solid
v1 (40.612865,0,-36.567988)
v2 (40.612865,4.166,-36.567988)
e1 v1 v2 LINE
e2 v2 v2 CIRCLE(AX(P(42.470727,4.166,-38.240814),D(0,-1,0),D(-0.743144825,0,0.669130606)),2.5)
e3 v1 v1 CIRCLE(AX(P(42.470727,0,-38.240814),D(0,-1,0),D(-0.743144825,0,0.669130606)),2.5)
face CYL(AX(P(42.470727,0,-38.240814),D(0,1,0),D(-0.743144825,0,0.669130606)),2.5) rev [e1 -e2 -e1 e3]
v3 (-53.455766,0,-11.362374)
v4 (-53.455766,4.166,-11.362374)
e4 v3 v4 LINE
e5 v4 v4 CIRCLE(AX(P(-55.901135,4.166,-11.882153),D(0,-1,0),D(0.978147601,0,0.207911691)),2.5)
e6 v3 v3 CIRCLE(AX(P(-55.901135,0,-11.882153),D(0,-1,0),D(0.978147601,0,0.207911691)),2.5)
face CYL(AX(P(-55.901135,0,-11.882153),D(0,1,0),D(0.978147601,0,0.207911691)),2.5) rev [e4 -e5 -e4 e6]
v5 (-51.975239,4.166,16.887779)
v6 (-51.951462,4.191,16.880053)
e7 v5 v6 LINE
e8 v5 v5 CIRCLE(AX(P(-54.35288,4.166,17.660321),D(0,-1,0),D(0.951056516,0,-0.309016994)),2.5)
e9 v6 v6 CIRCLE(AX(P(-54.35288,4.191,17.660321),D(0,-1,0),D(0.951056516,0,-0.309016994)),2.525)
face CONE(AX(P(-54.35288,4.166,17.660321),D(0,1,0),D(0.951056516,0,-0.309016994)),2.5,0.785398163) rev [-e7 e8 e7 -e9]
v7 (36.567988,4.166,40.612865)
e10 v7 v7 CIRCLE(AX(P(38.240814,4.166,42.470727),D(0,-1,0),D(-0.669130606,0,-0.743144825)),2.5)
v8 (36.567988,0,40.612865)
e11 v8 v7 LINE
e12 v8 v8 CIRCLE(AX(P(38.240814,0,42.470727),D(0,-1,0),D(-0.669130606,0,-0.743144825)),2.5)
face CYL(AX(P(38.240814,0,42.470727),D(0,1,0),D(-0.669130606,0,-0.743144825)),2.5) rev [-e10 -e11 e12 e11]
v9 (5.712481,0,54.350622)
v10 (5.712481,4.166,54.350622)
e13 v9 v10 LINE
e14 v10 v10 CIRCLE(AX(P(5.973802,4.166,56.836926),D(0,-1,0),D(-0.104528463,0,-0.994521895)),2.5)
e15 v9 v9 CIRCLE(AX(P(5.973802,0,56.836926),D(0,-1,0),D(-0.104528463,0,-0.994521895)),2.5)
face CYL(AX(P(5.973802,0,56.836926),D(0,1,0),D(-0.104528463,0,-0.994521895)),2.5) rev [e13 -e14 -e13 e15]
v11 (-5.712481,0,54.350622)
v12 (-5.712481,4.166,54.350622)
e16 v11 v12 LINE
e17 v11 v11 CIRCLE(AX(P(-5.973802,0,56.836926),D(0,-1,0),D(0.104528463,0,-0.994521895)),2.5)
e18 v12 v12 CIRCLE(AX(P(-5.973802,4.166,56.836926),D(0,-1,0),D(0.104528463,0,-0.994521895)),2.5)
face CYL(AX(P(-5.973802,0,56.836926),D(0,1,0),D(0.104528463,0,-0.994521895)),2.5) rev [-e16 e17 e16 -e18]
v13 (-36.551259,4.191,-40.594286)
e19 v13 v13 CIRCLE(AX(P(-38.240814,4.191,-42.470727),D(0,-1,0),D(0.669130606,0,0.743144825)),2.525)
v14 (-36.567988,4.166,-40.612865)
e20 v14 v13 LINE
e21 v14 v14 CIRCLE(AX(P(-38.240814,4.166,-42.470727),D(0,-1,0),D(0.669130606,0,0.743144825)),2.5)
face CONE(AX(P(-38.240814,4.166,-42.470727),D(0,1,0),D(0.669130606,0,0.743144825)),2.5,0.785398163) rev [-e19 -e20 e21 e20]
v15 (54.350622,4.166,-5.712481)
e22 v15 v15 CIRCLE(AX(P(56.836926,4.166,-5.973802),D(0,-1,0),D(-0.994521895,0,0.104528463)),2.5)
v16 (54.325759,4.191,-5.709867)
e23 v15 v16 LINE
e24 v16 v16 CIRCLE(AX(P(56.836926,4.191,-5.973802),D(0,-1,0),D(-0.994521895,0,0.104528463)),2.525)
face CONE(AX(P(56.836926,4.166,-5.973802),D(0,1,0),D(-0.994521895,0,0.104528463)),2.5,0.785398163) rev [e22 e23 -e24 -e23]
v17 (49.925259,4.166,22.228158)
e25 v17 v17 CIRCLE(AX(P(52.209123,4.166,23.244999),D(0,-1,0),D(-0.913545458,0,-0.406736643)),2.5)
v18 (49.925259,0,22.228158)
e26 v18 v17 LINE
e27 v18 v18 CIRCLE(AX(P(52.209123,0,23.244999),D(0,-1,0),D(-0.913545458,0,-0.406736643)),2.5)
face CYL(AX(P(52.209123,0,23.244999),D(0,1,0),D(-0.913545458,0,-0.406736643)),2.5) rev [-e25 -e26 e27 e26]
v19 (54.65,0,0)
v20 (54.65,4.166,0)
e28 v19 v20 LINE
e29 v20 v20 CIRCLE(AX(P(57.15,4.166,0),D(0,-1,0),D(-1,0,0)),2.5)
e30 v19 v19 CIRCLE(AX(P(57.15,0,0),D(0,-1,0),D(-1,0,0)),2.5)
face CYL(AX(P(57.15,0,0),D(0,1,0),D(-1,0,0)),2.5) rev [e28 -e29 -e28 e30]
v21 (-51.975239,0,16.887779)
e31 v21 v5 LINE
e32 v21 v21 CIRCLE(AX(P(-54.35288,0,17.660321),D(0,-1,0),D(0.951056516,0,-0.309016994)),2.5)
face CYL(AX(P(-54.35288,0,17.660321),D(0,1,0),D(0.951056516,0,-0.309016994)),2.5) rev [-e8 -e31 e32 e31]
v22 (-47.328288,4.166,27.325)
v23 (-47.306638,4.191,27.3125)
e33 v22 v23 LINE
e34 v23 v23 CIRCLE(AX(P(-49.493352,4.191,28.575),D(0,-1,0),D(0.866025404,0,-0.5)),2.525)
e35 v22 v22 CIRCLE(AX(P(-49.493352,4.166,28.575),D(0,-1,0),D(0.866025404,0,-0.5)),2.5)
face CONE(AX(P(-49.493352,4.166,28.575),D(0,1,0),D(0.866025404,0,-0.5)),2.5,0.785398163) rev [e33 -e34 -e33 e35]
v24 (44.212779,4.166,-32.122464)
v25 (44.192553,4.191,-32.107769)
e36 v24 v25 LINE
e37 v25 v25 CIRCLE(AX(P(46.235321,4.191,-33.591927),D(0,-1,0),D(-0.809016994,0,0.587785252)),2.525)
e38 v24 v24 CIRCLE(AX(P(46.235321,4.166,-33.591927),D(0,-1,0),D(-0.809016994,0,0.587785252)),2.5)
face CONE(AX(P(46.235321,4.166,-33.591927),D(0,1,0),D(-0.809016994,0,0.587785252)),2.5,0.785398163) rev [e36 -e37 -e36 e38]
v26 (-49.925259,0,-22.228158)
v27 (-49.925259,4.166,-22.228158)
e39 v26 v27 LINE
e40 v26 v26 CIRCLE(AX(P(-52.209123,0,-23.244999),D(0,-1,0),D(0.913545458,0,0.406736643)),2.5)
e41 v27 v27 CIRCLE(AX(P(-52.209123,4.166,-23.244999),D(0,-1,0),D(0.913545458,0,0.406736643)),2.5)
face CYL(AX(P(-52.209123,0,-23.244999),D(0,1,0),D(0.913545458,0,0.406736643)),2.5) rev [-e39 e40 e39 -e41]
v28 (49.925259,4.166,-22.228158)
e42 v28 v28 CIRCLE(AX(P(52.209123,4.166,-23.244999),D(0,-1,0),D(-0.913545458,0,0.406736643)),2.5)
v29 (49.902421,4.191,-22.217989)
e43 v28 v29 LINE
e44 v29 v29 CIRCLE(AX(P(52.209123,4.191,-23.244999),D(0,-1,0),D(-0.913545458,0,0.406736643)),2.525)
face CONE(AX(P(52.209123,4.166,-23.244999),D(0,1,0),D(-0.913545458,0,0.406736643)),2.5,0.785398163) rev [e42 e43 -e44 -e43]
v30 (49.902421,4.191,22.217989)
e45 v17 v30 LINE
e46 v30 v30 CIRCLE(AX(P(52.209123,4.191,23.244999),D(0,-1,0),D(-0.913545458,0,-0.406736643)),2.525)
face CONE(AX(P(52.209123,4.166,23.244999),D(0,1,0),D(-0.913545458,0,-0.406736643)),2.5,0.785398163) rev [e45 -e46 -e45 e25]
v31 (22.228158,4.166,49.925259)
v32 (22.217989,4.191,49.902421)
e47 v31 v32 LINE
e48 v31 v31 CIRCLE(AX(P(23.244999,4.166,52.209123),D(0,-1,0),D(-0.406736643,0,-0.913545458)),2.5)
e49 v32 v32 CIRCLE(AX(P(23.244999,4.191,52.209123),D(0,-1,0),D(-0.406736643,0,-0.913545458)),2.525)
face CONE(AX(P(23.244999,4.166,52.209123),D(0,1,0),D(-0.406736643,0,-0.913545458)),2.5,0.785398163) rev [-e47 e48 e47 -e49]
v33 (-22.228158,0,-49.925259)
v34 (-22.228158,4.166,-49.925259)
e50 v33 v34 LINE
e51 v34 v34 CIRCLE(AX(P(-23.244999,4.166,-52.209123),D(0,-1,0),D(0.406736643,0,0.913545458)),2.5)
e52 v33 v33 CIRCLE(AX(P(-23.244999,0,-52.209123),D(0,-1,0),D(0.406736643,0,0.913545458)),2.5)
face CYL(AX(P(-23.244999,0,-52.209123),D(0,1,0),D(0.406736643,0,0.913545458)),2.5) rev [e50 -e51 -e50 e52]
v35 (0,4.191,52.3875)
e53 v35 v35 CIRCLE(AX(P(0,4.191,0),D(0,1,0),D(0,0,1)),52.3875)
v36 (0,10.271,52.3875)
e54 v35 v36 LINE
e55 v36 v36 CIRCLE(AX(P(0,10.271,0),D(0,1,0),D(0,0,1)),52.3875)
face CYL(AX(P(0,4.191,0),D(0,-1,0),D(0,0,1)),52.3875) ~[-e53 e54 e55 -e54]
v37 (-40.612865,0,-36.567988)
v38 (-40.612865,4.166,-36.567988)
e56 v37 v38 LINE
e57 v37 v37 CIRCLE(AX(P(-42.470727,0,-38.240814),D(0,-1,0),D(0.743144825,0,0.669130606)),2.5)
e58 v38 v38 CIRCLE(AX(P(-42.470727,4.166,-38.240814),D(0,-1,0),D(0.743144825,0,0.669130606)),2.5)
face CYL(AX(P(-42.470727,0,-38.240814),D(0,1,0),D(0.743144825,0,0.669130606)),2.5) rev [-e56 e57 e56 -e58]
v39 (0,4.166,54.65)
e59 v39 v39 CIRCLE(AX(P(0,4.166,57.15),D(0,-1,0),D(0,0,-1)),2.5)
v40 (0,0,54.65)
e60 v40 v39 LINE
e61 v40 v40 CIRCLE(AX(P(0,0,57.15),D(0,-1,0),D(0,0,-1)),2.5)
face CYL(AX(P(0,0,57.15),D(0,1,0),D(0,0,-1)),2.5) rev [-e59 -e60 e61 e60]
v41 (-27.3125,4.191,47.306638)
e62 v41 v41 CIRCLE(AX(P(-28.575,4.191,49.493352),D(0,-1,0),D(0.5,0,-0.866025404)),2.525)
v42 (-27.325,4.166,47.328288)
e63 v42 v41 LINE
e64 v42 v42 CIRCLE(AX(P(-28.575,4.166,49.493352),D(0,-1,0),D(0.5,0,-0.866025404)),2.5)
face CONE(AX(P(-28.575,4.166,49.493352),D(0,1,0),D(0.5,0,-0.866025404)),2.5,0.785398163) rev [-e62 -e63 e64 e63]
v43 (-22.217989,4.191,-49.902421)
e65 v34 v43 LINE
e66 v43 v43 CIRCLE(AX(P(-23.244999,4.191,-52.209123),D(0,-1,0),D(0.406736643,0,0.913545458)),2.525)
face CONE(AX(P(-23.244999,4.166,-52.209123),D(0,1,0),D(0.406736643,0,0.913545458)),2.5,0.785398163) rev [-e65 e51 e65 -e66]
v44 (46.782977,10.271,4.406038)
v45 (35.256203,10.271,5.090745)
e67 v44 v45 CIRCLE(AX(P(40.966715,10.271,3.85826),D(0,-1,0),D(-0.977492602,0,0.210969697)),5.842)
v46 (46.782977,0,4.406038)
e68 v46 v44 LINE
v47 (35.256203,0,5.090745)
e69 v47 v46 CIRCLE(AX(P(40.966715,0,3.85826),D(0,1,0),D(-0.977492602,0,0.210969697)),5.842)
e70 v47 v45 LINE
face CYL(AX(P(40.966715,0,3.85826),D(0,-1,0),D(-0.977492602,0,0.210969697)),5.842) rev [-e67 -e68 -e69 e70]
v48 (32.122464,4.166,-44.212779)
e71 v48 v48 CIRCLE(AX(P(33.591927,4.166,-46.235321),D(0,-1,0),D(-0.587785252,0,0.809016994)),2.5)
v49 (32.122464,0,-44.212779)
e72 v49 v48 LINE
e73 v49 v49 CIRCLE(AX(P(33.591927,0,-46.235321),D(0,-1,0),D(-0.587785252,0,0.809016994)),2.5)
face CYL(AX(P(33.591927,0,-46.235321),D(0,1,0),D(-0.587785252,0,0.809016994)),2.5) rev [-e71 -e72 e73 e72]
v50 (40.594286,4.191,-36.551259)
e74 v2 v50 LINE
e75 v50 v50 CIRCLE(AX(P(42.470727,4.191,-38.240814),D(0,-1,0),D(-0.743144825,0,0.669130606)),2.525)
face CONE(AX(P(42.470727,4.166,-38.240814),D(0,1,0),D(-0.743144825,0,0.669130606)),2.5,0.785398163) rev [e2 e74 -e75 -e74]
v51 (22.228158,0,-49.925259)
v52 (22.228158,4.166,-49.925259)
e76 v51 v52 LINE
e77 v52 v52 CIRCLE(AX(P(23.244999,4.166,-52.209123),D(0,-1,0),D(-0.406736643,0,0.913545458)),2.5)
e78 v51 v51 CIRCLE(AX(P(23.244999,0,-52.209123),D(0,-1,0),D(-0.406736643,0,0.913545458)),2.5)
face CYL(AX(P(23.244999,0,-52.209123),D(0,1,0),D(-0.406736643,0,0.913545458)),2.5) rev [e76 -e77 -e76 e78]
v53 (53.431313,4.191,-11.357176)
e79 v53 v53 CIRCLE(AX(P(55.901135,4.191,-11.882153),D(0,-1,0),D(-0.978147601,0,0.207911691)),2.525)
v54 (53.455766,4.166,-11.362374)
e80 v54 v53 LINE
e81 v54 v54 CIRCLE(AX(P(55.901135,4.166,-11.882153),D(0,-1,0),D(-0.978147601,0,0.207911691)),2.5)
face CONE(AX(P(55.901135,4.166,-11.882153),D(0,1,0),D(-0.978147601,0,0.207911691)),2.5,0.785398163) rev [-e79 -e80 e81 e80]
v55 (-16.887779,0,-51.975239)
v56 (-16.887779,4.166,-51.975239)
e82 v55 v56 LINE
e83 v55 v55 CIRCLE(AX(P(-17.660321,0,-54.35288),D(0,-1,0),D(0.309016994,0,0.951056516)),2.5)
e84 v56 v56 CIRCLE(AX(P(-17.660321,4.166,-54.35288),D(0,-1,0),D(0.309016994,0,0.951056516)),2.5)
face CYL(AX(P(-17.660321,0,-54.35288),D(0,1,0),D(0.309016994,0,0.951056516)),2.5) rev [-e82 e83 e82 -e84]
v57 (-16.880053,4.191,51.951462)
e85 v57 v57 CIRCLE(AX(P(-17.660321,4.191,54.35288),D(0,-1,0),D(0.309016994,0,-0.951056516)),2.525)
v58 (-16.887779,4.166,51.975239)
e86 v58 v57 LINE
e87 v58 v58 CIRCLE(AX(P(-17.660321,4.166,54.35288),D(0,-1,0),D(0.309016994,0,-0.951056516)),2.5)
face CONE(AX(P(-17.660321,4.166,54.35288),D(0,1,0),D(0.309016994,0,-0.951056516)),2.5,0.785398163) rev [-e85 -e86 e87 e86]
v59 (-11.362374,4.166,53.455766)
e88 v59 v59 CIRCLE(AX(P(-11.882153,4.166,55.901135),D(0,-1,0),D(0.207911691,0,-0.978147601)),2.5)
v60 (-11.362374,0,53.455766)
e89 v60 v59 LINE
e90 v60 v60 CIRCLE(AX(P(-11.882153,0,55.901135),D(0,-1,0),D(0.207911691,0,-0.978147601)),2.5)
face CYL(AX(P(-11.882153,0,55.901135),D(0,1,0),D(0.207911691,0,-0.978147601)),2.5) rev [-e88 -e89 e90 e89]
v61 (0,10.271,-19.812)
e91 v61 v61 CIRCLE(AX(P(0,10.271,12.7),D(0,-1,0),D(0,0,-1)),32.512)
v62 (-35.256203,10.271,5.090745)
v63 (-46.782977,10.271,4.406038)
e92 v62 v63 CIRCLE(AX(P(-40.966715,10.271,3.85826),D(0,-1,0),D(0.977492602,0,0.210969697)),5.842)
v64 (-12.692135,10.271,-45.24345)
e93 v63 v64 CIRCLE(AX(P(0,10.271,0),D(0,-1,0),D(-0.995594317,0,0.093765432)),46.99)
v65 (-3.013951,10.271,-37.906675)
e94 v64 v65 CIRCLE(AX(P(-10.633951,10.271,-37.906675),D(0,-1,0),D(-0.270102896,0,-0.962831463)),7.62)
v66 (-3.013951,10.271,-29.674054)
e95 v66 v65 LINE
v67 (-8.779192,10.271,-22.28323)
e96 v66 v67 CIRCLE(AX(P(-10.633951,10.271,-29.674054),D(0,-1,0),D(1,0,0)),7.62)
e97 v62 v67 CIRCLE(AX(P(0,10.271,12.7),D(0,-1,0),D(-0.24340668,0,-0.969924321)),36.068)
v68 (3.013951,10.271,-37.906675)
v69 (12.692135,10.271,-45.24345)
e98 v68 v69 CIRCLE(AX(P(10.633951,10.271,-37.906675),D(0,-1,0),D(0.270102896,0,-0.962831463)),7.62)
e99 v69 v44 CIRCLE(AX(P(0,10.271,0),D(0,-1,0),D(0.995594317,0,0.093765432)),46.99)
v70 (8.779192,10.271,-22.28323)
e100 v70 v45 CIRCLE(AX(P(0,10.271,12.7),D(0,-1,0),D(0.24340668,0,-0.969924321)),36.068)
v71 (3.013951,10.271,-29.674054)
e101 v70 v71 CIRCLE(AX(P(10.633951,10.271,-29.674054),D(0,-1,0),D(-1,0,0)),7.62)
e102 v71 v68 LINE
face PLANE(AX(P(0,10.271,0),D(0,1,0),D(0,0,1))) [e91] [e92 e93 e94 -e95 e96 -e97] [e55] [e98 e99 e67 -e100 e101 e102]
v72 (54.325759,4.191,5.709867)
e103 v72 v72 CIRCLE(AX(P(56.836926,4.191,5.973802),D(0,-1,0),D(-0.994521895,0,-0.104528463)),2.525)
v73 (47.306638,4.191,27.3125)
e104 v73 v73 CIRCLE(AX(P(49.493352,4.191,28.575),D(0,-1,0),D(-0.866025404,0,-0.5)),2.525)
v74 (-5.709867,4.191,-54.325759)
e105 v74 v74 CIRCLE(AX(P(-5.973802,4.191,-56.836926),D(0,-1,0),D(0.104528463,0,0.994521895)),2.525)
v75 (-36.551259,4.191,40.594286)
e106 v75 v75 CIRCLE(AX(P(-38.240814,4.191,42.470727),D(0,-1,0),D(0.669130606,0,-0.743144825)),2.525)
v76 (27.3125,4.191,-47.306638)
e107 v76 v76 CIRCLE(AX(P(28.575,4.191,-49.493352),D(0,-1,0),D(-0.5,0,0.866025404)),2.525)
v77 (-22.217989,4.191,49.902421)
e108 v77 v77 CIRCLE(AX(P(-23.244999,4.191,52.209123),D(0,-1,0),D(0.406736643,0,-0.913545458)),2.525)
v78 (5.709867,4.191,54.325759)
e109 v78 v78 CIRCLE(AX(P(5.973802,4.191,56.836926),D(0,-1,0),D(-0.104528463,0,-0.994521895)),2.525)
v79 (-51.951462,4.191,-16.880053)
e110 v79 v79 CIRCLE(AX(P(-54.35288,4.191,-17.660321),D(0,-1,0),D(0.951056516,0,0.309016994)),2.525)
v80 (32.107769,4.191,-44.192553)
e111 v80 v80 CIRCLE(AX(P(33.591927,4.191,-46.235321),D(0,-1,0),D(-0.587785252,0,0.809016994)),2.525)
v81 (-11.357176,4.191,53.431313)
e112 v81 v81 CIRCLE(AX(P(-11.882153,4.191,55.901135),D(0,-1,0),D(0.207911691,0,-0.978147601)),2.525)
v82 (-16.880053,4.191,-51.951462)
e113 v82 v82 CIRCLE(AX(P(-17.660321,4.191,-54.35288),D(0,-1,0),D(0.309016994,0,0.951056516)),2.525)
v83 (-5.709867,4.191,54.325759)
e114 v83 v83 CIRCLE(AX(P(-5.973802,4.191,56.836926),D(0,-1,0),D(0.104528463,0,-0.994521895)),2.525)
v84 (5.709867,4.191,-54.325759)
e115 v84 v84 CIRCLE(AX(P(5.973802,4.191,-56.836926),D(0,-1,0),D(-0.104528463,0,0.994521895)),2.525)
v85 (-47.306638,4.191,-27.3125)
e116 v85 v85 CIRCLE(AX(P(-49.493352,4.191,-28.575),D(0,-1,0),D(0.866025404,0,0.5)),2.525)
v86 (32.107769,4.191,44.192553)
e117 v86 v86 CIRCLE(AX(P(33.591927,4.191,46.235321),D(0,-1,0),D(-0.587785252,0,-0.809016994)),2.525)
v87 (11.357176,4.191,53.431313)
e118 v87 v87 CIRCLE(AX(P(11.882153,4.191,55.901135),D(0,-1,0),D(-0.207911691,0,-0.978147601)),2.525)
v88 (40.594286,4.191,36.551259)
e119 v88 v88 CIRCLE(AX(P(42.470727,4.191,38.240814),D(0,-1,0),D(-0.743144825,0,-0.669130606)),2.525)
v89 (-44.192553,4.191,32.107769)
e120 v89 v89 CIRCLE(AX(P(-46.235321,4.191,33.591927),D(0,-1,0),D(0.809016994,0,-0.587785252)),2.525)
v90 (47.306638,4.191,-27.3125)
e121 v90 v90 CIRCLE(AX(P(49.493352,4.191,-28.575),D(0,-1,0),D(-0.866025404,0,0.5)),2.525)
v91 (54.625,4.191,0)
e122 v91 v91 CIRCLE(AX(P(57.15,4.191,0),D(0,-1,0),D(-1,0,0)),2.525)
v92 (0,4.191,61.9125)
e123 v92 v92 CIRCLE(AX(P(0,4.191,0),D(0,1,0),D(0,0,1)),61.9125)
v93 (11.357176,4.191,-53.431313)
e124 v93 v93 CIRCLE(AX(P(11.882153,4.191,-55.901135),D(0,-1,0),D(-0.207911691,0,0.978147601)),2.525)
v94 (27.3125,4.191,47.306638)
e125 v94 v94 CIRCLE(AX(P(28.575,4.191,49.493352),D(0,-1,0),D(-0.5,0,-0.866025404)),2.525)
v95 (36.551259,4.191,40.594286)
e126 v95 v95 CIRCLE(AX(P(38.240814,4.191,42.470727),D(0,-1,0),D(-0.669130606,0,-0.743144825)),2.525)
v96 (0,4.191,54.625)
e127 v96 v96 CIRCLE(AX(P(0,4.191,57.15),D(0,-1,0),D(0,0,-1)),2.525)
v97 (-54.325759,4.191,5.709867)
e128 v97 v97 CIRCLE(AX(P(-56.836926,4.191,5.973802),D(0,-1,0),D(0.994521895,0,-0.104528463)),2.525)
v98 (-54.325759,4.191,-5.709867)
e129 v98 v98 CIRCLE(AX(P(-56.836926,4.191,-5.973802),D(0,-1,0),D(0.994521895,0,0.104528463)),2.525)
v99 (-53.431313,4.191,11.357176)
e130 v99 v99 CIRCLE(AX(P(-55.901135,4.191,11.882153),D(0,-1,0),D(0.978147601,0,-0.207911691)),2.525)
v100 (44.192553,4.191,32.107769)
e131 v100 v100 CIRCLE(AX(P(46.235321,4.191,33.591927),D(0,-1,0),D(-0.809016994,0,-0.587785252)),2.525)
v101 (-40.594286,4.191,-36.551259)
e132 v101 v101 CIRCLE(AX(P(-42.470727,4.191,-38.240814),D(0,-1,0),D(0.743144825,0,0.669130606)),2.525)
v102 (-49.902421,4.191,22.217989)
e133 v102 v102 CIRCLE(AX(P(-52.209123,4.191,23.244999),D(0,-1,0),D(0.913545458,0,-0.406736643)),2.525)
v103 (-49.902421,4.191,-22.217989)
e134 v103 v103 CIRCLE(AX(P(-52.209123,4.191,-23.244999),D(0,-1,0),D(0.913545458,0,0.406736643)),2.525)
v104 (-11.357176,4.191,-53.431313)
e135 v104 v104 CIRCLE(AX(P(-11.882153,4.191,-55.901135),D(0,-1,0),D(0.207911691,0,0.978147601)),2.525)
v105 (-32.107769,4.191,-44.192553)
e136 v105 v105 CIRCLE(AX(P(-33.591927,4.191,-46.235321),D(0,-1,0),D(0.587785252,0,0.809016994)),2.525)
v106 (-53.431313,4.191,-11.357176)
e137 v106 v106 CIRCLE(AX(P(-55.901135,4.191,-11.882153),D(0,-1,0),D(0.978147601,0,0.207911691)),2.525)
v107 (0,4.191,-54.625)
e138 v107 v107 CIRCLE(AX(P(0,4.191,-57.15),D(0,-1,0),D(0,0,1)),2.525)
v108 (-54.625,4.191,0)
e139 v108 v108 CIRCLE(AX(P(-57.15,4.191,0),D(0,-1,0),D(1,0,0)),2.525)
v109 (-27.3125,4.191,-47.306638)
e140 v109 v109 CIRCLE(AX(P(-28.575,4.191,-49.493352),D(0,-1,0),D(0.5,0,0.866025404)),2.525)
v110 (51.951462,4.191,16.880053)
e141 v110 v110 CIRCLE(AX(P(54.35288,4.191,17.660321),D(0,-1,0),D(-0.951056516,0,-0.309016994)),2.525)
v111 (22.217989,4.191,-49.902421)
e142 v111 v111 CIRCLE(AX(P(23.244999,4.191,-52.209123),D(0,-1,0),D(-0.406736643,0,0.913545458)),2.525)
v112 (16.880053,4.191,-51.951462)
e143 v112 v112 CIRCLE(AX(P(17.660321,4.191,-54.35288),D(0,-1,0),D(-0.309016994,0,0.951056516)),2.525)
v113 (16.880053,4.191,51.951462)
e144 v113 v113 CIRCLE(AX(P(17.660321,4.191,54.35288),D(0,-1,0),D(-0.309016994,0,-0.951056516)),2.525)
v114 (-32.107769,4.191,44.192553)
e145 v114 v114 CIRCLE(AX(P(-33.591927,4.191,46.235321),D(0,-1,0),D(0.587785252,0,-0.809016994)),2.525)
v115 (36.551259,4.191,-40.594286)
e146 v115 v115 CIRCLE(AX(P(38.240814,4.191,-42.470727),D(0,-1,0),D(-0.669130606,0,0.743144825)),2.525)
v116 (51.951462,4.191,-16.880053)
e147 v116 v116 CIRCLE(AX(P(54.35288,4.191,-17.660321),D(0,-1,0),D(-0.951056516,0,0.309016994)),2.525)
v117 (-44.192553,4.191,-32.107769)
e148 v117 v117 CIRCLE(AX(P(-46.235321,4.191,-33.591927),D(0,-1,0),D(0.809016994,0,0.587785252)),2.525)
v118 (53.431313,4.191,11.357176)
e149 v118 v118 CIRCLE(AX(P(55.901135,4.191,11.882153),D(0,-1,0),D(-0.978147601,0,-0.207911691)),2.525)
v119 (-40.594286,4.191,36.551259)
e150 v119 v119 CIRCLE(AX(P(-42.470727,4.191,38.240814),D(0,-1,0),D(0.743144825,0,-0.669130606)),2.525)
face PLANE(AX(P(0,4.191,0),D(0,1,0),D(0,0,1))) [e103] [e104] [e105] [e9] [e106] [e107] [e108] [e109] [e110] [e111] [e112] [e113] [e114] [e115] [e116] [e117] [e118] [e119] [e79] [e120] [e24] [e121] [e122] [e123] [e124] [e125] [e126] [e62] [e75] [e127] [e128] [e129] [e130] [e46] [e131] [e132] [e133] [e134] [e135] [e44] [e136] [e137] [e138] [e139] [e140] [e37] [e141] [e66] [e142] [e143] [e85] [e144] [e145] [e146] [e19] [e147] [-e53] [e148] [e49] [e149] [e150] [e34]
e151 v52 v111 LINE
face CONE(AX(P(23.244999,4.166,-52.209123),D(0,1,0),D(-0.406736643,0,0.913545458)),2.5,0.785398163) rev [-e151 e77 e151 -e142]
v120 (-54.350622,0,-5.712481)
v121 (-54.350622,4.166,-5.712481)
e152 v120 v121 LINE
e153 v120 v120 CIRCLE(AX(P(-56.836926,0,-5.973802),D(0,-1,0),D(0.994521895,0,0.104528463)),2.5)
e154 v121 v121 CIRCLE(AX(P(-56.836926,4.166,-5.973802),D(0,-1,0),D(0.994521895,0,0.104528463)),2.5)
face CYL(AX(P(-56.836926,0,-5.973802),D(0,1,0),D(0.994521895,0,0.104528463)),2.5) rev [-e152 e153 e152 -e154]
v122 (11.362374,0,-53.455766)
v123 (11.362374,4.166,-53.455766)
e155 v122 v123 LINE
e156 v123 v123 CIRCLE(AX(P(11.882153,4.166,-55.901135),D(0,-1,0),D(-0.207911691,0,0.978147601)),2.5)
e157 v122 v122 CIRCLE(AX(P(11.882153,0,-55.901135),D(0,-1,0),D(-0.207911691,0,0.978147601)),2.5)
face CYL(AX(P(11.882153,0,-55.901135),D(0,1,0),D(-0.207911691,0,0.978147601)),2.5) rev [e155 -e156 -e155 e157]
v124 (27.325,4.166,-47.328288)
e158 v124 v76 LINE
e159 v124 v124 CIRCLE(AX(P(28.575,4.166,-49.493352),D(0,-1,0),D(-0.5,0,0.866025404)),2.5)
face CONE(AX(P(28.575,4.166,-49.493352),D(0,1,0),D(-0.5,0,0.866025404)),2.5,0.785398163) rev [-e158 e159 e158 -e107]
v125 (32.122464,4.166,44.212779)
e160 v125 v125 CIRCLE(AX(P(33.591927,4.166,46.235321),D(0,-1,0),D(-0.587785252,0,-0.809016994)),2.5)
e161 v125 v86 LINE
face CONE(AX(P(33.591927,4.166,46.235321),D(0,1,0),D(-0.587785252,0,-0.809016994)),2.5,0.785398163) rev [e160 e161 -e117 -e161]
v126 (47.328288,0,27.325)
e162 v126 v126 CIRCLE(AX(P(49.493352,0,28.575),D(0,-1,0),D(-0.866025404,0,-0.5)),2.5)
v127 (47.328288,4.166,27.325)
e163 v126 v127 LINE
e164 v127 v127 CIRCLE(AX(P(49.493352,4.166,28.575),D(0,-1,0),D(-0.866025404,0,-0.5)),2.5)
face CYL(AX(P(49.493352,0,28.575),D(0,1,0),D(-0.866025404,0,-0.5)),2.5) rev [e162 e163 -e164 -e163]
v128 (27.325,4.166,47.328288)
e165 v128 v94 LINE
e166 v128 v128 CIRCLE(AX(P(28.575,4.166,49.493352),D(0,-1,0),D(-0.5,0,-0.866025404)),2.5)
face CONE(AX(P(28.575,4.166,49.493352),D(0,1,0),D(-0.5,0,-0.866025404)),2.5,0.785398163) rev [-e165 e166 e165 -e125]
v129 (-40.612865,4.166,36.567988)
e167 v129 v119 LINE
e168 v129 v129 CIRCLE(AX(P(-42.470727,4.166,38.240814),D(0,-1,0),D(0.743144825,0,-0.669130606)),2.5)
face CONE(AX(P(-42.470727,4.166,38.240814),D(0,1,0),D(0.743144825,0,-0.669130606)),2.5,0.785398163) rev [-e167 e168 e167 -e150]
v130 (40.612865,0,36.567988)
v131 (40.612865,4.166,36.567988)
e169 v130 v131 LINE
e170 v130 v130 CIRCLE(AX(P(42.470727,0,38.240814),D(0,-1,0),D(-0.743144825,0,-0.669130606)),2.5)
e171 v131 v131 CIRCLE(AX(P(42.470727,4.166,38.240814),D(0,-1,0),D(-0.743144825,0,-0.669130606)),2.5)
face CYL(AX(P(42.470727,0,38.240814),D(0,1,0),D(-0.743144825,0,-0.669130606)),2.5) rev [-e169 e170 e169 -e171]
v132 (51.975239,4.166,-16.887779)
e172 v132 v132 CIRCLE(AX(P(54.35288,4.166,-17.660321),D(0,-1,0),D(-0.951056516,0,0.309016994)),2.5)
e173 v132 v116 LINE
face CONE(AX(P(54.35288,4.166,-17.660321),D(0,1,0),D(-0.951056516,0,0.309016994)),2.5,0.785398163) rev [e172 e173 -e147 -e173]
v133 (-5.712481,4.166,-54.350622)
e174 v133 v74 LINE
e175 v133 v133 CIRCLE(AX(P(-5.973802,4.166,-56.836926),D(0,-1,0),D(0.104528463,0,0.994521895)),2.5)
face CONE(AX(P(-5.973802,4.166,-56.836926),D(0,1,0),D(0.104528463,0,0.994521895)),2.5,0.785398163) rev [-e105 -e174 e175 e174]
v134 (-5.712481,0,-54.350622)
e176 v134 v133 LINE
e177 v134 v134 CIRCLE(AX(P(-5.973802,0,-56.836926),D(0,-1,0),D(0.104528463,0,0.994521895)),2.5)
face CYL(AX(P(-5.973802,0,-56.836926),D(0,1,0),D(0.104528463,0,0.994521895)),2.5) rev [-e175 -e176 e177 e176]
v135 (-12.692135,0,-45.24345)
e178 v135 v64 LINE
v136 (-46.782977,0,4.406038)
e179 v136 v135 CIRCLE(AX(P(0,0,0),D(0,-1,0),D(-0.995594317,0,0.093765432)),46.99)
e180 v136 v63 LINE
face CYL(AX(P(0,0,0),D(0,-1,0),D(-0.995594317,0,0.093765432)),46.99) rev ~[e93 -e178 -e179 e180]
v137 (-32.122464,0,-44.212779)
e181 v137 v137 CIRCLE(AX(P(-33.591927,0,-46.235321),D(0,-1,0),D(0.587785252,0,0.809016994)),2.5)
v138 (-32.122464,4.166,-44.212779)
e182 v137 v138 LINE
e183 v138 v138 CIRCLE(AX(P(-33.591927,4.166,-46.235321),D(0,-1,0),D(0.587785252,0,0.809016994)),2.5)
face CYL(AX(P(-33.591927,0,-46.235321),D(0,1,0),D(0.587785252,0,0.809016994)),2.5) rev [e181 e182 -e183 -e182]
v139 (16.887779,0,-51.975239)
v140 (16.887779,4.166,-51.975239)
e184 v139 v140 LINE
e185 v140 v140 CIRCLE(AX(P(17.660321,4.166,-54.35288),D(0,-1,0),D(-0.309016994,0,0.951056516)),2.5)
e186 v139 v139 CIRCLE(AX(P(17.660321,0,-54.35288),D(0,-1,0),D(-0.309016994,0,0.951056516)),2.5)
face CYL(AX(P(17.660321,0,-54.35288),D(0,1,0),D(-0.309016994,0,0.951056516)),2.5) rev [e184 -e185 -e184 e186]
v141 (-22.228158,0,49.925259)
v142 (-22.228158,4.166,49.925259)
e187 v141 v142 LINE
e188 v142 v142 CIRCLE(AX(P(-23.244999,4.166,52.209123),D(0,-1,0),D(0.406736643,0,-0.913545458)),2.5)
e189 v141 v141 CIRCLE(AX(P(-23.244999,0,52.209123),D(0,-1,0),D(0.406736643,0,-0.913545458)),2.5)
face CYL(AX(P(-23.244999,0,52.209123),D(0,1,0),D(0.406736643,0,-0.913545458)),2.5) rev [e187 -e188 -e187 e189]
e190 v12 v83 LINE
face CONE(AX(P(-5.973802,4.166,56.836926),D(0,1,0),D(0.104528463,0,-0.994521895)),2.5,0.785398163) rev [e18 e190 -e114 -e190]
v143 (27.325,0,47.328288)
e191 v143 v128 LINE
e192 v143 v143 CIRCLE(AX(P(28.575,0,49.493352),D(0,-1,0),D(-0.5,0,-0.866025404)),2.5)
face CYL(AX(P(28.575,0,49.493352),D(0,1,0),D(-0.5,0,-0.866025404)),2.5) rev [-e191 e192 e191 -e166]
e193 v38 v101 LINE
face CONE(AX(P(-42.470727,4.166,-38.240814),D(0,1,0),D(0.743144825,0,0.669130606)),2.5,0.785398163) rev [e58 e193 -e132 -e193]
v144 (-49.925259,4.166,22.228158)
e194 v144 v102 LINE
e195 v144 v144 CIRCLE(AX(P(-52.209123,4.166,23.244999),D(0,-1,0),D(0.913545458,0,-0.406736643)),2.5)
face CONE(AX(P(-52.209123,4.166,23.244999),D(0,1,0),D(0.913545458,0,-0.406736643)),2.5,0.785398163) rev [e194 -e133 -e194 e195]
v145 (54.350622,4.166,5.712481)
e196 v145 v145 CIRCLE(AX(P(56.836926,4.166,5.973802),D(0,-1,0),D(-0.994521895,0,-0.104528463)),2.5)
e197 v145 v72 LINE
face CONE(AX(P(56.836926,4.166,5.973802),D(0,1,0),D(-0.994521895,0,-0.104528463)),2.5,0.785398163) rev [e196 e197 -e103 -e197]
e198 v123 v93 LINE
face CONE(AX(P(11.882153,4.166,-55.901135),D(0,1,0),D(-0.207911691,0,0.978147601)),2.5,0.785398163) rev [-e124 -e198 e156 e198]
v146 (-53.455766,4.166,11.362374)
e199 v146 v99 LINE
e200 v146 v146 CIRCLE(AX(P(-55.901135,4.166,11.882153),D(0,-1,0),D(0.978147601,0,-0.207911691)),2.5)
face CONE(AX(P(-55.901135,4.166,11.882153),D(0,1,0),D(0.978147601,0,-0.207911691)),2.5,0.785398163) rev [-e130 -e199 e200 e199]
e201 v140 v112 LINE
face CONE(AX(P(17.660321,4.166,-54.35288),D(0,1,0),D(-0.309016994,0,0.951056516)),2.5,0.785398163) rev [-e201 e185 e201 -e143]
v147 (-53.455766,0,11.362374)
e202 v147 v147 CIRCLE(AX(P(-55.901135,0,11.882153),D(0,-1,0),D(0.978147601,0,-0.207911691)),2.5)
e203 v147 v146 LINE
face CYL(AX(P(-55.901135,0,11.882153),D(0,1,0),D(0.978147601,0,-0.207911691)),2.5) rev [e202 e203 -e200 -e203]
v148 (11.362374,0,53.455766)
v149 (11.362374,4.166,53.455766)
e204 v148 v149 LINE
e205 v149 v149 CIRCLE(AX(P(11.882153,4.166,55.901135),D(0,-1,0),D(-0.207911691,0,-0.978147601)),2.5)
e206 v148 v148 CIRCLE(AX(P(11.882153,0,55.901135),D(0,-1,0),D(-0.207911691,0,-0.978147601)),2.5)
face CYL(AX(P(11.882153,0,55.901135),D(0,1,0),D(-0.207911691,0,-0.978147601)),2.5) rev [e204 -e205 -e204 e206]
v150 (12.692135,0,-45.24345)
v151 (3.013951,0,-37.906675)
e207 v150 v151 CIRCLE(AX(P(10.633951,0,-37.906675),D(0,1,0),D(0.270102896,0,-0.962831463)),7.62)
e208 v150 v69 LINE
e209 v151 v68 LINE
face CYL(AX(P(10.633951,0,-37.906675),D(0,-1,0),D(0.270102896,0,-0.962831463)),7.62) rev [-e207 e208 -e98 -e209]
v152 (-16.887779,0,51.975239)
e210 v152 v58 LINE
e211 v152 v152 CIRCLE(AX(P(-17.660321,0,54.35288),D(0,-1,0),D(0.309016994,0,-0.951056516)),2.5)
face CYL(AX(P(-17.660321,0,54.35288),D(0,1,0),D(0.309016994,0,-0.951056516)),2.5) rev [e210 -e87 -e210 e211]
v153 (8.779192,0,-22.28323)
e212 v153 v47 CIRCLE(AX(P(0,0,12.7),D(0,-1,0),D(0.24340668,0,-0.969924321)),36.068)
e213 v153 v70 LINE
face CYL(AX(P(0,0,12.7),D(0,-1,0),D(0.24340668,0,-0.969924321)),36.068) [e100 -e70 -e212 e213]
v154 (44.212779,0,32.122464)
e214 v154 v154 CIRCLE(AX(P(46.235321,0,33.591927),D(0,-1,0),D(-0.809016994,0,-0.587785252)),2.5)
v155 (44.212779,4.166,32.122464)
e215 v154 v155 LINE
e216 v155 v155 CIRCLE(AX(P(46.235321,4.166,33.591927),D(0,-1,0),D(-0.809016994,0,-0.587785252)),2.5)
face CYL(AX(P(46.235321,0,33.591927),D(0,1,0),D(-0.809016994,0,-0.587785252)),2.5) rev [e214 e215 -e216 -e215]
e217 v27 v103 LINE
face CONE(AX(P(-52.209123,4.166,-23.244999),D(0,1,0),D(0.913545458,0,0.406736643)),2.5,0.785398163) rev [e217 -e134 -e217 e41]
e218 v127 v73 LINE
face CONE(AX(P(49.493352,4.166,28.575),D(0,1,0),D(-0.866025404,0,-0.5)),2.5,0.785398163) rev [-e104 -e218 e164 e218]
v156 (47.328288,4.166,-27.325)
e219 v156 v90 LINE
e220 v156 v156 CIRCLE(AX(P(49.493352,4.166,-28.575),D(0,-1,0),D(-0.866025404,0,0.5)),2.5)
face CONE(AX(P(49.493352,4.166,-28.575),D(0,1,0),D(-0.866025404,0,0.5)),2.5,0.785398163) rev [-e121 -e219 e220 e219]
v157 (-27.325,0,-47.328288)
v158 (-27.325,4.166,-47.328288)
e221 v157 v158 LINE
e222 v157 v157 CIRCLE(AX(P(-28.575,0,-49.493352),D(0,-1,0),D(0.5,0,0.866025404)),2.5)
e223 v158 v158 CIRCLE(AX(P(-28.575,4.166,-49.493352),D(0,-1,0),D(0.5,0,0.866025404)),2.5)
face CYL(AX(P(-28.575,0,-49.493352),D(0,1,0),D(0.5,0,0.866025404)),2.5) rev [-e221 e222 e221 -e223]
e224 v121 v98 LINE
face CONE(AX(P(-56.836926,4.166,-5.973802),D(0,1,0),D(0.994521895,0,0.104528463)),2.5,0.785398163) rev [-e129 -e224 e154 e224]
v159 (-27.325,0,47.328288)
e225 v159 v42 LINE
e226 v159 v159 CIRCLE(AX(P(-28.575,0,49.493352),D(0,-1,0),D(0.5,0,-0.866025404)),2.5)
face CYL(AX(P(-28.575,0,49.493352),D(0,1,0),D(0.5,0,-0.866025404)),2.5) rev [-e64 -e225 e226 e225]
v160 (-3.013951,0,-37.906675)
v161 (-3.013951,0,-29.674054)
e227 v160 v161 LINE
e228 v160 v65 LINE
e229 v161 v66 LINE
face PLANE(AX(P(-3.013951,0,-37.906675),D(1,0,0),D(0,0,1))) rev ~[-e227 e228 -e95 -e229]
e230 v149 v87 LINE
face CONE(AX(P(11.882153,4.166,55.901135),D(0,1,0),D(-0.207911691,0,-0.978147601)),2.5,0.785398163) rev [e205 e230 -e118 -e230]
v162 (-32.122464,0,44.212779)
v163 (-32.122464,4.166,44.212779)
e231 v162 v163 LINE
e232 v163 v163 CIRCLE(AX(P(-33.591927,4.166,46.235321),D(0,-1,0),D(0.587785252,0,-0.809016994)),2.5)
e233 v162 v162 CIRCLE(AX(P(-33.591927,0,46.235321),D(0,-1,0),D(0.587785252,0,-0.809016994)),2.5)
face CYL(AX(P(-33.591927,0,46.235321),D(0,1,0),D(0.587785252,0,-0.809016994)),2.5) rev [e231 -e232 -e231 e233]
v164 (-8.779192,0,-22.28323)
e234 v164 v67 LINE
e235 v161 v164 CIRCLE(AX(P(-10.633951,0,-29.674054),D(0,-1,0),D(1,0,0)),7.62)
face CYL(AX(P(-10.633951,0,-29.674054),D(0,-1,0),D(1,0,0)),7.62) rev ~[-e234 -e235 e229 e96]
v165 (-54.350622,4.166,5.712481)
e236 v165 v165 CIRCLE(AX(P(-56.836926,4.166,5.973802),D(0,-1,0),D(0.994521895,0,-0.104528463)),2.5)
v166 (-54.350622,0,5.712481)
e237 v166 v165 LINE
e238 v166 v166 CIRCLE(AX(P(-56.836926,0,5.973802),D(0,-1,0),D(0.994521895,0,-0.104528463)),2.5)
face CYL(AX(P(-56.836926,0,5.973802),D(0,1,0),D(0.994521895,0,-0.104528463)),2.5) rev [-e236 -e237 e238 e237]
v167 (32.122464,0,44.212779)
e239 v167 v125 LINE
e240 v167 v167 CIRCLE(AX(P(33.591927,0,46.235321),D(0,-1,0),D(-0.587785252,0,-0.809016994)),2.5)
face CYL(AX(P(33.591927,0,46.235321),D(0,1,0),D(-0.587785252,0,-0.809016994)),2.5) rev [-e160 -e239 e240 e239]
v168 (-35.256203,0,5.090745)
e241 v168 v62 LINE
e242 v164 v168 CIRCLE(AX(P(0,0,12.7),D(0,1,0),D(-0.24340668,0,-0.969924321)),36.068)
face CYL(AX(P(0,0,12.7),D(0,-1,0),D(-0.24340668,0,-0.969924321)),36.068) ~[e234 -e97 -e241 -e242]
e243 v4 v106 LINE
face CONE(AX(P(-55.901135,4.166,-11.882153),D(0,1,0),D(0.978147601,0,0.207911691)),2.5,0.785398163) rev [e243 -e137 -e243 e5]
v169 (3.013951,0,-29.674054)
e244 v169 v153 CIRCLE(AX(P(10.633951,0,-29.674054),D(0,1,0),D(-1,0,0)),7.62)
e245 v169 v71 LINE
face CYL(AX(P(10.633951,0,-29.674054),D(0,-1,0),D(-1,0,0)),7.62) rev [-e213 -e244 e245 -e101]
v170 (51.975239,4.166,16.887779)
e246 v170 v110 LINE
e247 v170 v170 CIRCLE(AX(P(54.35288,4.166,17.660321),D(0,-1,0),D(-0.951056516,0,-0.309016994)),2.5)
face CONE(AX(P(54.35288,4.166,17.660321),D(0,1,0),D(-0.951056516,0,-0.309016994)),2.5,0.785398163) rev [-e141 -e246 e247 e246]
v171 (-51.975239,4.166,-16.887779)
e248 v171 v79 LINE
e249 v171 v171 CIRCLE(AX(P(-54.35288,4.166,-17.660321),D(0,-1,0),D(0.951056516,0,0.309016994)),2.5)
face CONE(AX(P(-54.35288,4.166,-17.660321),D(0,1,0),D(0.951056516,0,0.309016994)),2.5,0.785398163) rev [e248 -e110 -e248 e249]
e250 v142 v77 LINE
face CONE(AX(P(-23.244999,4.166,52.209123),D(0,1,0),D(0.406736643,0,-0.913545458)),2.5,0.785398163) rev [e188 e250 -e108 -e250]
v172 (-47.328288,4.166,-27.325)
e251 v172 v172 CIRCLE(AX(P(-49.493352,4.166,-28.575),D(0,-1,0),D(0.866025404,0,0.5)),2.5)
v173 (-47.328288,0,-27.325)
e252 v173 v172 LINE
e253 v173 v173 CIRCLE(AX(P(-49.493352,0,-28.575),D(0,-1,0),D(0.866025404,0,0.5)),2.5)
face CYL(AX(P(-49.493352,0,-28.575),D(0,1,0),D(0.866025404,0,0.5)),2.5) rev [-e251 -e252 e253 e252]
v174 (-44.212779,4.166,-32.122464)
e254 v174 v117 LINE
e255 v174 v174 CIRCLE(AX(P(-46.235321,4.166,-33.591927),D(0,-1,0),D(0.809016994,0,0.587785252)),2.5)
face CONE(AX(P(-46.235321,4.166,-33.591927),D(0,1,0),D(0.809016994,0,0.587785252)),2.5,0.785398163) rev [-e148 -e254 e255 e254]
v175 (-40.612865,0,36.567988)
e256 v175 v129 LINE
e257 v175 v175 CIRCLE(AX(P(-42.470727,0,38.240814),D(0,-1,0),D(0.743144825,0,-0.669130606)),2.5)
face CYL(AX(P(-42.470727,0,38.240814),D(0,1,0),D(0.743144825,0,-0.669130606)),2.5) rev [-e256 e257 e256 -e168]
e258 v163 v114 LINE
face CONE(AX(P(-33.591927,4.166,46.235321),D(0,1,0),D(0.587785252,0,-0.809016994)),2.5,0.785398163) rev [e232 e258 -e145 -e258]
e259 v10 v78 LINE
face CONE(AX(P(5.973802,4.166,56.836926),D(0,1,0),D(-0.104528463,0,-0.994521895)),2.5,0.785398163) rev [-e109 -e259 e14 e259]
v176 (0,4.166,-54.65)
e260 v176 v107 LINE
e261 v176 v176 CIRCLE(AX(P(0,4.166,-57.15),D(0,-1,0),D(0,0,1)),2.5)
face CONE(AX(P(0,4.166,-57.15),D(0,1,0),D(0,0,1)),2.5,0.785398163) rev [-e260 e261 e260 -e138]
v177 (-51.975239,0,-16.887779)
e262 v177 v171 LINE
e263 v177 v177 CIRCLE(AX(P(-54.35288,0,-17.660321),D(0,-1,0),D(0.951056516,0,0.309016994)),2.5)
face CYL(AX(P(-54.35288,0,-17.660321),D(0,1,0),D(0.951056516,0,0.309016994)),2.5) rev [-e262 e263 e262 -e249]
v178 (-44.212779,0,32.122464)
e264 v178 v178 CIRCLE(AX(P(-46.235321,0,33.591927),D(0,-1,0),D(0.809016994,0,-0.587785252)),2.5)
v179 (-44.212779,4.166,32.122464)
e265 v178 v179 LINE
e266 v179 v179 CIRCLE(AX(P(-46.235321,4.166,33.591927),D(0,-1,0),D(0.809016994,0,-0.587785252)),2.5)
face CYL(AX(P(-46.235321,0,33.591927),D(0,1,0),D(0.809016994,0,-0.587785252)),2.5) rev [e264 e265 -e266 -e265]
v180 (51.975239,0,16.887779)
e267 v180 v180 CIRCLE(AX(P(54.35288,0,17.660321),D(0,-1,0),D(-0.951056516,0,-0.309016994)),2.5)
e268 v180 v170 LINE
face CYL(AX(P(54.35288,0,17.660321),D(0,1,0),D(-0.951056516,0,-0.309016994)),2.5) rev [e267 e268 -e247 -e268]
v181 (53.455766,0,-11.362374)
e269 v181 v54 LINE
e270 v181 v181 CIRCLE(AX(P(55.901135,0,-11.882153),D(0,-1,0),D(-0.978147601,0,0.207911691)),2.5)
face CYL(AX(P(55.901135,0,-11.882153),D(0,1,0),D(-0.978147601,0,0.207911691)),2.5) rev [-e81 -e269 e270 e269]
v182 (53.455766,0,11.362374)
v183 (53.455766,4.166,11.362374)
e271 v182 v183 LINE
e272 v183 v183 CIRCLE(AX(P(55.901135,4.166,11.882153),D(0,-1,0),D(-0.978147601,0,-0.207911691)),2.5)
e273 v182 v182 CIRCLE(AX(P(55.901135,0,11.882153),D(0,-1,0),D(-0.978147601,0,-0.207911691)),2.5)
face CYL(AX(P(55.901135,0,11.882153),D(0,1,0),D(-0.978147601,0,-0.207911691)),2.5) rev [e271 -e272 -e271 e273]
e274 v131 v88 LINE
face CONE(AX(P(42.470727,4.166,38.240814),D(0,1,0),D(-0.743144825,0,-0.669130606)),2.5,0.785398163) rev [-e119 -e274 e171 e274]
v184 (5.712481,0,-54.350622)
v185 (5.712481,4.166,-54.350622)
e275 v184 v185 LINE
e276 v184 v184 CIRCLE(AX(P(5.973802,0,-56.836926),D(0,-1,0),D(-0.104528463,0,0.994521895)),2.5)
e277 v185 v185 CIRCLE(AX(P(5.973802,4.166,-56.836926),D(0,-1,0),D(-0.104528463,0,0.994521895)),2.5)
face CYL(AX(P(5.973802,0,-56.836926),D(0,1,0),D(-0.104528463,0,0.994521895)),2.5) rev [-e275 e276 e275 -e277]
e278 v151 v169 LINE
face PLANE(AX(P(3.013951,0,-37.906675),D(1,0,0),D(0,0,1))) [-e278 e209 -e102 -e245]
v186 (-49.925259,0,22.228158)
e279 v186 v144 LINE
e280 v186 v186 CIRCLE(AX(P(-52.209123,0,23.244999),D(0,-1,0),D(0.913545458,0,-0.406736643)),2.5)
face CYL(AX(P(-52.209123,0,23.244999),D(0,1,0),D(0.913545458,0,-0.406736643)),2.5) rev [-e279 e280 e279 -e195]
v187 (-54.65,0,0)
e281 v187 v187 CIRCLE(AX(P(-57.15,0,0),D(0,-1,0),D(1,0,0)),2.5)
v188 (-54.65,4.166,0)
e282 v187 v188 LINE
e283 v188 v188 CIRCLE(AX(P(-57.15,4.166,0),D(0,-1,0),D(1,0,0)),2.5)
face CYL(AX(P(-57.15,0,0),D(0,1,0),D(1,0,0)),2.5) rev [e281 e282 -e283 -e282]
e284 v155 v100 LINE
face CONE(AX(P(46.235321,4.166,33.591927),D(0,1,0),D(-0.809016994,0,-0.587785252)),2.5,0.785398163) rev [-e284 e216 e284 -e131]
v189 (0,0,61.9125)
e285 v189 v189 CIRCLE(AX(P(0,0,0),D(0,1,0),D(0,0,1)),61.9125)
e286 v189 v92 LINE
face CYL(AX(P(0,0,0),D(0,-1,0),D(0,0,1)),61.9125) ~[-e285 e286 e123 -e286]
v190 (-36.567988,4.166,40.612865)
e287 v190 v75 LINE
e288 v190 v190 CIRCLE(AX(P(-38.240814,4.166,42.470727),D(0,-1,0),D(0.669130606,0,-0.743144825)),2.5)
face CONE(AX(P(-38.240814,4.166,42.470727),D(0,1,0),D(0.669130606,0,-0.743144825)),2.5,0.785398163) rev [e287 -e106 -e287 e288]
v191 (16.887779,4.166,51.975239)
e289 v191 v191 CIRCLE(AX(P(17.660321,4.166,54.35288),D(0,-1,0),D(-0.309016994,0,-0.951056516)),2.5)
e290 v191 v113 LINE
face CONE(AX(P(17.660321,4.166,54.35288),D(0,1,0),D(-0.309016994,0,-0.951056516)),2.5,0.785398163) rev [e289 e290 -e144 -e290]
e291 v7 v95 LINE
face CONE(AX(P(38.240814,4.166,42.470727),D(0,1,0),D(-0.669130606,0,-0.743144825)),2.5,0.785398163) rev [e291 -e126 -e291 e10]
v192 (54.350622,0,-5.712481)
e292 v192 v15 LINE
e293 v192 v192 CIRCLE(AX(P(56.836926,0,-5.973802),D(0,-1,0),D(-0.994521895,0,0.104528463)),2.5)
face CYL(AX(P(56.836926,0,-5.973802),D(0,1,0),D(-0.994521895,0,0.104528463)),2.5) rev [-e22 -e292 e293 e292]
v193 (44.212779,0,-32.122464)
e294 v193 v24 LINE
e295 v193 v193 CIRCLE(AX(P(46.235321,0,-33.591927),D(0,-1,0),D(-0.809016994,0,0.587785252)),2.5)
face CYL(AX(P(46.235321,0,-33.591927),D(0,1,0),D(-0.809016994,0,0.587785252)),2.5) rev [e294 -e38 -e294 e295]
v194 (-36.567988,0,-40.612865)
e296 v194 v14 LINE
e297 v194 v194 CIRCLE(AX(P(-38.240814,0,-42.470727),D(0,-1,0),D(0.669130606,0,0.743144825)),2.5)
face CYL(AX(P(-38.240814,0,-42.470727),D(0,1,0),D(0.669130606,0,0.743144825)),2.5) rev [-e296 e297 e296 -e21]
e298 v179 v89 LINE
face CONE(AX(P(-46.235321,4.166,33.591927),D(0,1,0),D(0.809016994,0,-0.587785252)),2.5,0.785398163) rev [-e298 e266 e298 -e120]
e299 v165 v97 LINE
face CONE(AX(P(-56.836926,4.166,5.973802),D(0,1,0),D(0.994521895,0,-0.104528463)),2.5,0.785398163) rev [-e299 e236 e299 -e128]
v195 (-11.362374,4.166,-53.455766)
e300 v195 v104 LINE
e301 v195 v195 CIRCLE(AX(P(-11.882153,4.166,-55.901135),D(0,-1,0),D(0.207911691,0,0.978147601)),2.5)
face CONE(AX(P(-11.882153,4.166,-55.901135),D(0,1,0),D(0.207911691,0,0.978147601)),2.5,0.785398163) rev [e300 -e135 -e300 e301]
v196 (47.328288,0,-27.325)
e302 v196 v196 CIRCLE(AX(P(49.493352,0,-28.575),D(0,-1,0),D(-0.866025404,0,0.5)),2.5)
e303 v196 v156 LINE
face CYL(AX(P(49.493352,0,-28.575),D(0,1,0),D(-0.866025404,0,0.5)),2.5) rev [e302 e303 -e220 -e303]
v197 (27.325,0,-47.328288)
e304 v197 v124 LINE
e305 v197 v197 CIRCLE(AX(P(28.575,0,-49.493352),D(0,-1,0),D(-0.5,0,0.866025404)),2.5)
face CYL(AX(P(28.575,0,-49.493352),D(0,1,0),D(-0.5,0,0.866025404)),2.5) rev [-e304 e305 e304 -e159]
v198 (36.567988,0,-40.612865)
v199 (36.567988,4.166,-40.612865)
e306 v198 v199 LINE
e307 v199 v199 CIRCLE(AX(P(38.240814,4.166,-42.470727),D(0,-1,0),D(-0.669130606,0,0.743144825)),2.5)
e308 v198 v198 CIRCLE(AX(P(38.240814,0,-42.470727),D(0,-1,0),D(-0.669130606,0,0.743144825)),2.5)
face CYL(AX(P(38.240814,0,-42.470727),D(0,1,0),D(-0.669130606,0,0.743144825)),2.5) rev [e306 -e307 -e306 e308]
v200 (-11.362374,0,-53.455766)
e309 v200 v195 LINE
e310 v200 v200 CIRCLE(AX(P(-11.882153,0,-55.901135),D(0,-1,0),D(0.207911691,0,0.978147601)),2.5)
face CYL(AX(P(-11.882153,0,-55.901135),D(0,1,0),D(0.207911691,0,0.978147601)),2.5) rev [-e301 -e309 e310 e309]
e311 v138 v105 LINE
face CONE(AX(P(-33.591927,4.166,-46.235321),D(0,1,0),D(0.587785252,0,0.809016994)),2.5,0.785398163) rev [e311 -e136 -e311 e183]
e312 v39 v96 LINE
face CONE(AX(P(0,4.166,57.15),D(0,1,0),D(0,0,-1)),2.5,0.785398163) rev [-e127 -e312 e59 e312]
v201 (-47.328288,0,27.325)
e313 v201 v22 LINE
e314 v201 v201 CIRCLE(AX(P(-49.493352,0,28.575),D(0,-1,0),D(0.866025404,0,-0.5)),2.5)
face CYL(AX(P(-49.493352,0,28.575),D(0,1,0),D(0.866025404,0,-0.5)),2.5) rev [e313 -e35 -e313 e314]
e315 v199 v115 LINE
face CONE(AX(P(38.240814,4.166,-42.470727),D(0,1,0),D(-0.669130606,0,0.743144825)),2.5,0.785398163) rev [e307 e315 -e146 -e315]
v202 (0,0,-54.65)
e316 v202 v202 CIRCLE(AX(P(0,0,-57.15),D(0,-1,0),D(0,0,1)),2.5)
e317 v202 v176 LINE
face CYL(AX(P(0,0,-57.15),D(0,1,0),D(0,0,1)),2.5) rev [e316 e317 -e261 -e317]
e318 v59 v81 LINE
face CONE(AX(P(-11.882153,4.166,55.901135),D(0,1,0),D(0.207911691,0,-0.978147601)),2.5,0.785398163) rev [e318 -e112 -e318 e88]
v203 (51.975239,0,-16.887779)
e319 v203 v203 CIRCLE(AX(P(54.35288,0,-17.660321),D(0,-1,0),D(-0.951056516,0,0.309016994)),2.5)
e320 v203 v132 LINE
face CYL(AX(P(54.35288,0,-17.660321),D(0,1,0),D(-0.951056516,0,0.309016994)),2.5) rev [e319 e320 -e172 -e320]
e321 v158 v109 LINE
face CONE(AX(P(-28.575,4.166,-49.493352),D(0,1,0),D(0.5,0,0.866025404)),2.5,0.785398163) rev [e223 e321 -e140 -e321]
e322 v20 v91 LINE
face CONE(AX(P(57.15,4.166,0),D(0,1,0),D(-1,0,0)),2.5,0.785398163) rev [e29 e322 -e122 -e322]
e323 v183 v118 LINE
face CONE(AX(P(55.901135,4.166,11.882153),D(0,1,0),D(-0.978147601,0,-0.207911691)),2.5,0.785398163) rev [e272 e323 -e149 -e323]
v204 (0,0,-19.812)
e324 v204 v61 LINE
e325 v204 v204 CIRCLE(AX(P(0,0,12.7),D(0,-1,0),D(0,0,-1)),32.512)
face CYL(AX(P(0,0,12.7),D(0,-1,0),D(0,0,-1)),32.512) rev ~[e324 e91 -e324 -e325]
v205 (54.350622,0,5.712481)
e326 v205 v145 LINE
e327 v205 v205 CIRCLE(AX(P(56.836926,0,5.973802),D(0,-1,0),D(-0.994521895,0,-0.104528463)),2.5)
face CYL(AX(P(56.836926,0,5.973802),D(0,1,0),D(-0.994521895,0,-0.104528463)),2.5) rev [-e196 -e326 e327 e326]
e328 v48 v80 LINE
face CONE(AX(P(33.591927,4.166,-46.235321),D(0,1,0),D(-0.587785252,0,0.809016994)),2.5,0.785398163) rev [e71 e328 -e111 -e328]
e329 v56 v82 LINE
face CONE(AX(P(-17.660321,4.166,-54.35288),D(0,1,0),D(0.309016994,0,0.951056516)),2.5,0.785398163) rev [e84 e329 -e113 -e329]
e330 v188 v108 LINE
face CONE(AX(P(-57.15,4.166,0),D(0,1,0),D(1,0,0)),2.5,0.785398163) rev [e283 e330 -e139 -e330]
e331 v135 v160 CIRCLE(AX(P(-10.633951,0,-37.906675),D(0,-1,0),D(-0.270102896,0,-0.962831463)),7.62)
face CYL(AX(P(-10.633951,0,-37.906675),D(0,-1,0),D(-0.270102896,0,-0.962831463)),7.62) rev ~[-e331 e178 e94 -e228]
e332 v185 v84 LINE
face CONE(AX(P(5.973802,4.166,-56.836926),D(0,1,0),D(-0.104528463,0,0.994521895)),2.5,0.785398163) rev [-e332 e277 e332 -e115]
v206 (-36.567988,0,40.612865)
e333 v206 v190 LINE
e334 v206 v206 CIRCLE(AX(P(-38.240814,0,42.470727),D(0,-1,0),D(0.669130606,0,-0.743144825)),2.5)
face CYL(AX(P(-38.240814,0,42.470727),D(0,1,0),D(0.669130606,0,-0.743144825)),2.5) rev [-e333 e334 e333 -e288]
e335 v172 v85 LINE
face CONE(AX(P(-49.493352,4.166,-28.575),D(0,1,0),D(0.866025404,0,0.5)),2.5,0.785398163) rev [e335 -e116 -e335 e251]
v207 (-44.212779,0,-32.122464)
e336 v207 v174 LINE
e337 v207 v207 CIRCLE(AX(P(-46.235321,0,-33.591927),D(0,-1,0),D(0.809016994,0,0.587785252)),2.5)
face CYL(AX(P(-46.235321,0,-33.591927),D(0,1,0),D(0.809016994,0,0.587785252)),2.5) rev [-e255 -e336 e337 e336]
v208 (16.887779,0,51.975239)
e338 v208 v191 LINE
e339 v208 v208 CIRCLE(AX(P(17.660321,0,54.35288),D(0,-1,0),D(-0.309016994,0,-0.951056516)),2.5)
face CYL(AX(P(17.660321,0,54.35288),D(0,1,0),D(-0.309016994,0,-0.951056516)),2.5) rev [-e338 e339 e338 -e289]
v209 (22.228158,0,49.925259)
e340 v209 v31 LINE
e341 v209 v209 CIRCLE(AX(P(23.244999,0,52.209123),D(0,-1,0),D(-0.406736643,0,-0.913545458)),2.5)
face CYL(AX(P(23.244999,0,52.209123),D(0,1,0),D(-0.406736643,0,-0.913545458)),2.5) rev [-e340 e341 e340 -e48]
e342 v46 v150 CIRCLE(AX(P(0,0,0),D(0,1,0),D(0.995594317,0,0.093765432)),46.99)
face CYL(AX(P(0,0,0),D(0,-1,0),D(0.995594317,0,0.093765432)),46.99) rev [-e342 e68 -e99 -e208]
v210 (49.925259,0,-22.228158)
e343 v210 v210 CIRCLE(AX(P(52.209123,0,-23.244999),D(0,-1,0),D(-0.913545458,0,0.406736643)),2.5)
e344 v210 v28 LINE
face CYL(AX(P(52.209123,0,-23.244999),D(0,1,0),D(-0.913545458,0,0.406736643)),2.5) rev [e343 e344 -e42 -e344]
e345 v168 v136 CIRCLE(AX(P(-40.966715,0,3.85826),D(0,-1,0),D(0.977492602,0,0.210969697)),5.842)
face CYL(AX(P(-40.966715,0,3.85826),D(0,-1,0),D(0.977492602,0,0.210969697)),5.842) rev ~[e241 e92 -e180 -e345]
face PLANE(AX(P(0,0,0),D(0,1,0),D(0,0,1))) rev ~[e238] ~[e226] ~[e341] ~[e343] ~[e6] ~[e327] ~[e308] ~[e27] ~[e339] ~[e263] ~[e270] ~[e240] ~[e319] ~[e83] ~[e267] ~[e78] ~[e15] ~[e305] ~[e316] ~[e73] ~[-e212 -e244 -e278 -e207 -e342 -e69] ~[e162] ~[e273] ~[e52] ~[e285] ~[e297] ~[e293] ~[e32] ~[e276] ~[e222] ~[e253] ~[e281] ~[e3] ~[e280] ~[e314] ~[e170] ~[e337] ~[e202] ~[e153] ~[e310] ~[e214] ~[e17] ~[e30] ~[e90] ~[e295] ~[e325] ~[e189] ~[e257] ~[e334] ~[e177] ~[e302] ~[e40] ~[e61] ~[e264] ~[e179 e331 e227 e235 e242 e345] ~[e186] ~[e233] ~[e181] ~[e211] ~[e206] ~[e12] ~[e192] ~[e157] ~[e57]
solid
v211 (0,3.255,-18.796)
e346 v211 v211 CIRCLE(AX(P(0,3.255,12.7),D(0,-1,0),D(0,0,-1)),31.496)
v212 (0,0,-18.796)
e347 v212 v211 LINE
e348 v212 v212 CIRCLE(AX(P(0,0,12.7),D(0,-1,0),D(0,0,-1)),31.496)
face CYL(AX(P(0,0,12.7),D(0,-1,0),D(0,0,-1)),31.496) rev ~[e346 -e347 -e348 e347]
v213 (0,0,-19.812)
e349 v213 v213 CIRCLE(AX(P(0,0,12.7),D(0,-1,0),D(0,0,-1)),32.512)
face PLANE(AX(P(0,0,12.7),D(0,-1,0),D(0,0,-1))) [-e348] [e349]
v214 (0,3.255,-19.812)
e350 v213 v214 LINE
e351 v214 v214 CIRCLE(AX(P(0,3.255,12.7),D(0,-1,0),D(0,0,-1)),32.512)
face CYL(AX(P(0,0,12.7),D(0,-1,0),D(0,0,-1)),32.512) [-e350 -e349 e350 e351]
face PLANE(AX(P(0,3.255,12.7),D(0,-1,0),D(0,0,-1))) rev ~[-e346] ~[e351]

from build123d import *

# Parameters (mm, degrees)
SKETCH1_R                  = 61.9125
SKETCH1_R_2                = 30.988
SLOTTED_BODY_EXTRUDE_DEPTH = 4.191
SKETCH5_R                  = 52.3875
BOSS_EXTRUDE3_DEPTH        = 6.080000032
SKETCH6_R                  = 32.512
CUT_EXTRUDE5_DEPTH         = 89.157862691
SKETCH8_R                  = 32.512
SKETCH8_R_2                = 31.496
BOSS_EXTRUDE4_DEPTH        = 3.255000094
CIRPATTERN1_COUNT          = 60


with BuildPart() as part:
    # Sketch1 → Slotted-Body Extrude (new body)
    with BuildSketch(Plane(origin=(0, 0, 0), x_dir=(1, 0, 0), z_dir=(0, 1, 0))):
        with Locations(Location((0, 0, 0), (0, 0, 270))):
            Circle(SKETCH1_R)
        with Locations(Location((0, -12.7, 0), (0, 0, 270))):
            Circle(SKETCH1_R_2, mode=Mode.SUBTRACT)
    extrude(amount=SLOTTED_BODY_EXTRUDE_DEPTH)

    # Sketch5 → Boss-Extrude3 (add)
    with BuildSketch(Plane(origin=(0, 4.191, 0), x_dir=(1, 0, 0), z_dir=(0, 1, 0))):
        with Locations(Location((0, 0, 0), (0, 0, 270))):
            Circle(SKETCH5_R)
    extrude(amount=BOSS_EXTRUDE3_DEPTH)

    # Sketch6 → Cut-Extrude5 (cut, through all)
    with BuildSketch(Plane.XZ):
        with Locations(Location((0, 12.7, 0), (0, 0, 270))):
            Circle(SKETCH6_R)
        with BuildLine():
            Line((3.013951015, -37.906674687), (3.013951015, -29.674053734))
            ThreePointArc((3.013951015, -29.674053734), (4.62572071, -24.987309811), (8.779192117, -22.283230408))
            ThreePointArc((8.779192117, -22.283230408), (25.925135322, -12.375645206), (35.256203169, 5.09074497))
            ThreePointArc((35.256203169, 5.09074497), (41.313127715, 9.689980346), (46.782976949, 4.406037654))
            ThreePointArc((46.782976949, 4.406037654), (38.737451576, -26.59830719), (12.692135082, -45.243450433))
            ThreePointArc((12.692135082, -45.243450433), (6.03063496, -43.979061474), (3.013951015, -37.906674687))
        make_face()
        with BuildLine():
            Line((-3.013951015, -37.906674687), (-3.013951015, -29.674053734))
            ThreePointArc((-3.013951015, -29.674053734), (-4.62572071, -24.987309811), (-8.779192117, -22.283230408))
            ThreePointArc((-8.779192117, -22.283230408), (-25.925135322, -12.375645206), (-35.256203169, 5.09074497))
            ThreePointArc((-35.256203169, 5.09074497), (-41.313127715, 9.689980346), (-46.782976949, 4.406037654))
            ThreePointArc((-46.782976949, 4.406037654), (-38.737451576, -26.59830719), (-12.692135082, -45.243450433))
            ThreePointArc((-12.692135082, -45.243450433), (-6.03063496, -43.979061474), (-3.013951015, -37.906674687))
        make_face()
    extrude(amount=-CUT_EXTRUDE5_DEPTH, mode=Mode.SUBTRACT)

    # Sketch10 → Ø5.0mm Dowel Hole1 (revolve, cut)
    with BuildSketch(Plane(origin=(0, 4.191, -57.15), x_dir=(0, 0, 1), z_dir=(1, 0, 0))):
        Polygon((0, 0), (0, 4.191), (2.5, 4.191), (2.5, 0.025), (2.525, 0), align=None)
    f_5_0mm_dowel_hole1 = revolve(axis=Axis((0, 10.541, -57.15), (0, -1, 0)), mode=Mode.SUBTRACT)

    # CirPattern1: Ø5.0mm Dowel Hole1 ×60 about axis
    cirpattern1_axis = Axis((0, 0, 0), (0, 1, 0))
    for i in range(1, CIRPATTERN1_COUNT):
        add(f_5_0mm_dowel_hole1.rotate(cirpattern1_axis, i * 360 / CIRPATTERN1_COUNT), mode=Mode.SUBTRACT)


with BuildPart() as body_2:
    # Sketch8 → Boss-Extrude4 (new body)
    with BuildSketch(Plane.XZ):
        with Locations(Location((0, 12.7, 0), (0, 0, 270))):
            Circle(SKETCH8_R)
        with Locations(Location((0, 12.7, 0), (0, 0, 270))):
            Circle(SKETCH8_R_2, mode=Mode.SUBTRACT)
    extrude(amount=-BOSS_EXTRUDE4_DEPTH)


solid = Compound([part.part, body_2.part])
